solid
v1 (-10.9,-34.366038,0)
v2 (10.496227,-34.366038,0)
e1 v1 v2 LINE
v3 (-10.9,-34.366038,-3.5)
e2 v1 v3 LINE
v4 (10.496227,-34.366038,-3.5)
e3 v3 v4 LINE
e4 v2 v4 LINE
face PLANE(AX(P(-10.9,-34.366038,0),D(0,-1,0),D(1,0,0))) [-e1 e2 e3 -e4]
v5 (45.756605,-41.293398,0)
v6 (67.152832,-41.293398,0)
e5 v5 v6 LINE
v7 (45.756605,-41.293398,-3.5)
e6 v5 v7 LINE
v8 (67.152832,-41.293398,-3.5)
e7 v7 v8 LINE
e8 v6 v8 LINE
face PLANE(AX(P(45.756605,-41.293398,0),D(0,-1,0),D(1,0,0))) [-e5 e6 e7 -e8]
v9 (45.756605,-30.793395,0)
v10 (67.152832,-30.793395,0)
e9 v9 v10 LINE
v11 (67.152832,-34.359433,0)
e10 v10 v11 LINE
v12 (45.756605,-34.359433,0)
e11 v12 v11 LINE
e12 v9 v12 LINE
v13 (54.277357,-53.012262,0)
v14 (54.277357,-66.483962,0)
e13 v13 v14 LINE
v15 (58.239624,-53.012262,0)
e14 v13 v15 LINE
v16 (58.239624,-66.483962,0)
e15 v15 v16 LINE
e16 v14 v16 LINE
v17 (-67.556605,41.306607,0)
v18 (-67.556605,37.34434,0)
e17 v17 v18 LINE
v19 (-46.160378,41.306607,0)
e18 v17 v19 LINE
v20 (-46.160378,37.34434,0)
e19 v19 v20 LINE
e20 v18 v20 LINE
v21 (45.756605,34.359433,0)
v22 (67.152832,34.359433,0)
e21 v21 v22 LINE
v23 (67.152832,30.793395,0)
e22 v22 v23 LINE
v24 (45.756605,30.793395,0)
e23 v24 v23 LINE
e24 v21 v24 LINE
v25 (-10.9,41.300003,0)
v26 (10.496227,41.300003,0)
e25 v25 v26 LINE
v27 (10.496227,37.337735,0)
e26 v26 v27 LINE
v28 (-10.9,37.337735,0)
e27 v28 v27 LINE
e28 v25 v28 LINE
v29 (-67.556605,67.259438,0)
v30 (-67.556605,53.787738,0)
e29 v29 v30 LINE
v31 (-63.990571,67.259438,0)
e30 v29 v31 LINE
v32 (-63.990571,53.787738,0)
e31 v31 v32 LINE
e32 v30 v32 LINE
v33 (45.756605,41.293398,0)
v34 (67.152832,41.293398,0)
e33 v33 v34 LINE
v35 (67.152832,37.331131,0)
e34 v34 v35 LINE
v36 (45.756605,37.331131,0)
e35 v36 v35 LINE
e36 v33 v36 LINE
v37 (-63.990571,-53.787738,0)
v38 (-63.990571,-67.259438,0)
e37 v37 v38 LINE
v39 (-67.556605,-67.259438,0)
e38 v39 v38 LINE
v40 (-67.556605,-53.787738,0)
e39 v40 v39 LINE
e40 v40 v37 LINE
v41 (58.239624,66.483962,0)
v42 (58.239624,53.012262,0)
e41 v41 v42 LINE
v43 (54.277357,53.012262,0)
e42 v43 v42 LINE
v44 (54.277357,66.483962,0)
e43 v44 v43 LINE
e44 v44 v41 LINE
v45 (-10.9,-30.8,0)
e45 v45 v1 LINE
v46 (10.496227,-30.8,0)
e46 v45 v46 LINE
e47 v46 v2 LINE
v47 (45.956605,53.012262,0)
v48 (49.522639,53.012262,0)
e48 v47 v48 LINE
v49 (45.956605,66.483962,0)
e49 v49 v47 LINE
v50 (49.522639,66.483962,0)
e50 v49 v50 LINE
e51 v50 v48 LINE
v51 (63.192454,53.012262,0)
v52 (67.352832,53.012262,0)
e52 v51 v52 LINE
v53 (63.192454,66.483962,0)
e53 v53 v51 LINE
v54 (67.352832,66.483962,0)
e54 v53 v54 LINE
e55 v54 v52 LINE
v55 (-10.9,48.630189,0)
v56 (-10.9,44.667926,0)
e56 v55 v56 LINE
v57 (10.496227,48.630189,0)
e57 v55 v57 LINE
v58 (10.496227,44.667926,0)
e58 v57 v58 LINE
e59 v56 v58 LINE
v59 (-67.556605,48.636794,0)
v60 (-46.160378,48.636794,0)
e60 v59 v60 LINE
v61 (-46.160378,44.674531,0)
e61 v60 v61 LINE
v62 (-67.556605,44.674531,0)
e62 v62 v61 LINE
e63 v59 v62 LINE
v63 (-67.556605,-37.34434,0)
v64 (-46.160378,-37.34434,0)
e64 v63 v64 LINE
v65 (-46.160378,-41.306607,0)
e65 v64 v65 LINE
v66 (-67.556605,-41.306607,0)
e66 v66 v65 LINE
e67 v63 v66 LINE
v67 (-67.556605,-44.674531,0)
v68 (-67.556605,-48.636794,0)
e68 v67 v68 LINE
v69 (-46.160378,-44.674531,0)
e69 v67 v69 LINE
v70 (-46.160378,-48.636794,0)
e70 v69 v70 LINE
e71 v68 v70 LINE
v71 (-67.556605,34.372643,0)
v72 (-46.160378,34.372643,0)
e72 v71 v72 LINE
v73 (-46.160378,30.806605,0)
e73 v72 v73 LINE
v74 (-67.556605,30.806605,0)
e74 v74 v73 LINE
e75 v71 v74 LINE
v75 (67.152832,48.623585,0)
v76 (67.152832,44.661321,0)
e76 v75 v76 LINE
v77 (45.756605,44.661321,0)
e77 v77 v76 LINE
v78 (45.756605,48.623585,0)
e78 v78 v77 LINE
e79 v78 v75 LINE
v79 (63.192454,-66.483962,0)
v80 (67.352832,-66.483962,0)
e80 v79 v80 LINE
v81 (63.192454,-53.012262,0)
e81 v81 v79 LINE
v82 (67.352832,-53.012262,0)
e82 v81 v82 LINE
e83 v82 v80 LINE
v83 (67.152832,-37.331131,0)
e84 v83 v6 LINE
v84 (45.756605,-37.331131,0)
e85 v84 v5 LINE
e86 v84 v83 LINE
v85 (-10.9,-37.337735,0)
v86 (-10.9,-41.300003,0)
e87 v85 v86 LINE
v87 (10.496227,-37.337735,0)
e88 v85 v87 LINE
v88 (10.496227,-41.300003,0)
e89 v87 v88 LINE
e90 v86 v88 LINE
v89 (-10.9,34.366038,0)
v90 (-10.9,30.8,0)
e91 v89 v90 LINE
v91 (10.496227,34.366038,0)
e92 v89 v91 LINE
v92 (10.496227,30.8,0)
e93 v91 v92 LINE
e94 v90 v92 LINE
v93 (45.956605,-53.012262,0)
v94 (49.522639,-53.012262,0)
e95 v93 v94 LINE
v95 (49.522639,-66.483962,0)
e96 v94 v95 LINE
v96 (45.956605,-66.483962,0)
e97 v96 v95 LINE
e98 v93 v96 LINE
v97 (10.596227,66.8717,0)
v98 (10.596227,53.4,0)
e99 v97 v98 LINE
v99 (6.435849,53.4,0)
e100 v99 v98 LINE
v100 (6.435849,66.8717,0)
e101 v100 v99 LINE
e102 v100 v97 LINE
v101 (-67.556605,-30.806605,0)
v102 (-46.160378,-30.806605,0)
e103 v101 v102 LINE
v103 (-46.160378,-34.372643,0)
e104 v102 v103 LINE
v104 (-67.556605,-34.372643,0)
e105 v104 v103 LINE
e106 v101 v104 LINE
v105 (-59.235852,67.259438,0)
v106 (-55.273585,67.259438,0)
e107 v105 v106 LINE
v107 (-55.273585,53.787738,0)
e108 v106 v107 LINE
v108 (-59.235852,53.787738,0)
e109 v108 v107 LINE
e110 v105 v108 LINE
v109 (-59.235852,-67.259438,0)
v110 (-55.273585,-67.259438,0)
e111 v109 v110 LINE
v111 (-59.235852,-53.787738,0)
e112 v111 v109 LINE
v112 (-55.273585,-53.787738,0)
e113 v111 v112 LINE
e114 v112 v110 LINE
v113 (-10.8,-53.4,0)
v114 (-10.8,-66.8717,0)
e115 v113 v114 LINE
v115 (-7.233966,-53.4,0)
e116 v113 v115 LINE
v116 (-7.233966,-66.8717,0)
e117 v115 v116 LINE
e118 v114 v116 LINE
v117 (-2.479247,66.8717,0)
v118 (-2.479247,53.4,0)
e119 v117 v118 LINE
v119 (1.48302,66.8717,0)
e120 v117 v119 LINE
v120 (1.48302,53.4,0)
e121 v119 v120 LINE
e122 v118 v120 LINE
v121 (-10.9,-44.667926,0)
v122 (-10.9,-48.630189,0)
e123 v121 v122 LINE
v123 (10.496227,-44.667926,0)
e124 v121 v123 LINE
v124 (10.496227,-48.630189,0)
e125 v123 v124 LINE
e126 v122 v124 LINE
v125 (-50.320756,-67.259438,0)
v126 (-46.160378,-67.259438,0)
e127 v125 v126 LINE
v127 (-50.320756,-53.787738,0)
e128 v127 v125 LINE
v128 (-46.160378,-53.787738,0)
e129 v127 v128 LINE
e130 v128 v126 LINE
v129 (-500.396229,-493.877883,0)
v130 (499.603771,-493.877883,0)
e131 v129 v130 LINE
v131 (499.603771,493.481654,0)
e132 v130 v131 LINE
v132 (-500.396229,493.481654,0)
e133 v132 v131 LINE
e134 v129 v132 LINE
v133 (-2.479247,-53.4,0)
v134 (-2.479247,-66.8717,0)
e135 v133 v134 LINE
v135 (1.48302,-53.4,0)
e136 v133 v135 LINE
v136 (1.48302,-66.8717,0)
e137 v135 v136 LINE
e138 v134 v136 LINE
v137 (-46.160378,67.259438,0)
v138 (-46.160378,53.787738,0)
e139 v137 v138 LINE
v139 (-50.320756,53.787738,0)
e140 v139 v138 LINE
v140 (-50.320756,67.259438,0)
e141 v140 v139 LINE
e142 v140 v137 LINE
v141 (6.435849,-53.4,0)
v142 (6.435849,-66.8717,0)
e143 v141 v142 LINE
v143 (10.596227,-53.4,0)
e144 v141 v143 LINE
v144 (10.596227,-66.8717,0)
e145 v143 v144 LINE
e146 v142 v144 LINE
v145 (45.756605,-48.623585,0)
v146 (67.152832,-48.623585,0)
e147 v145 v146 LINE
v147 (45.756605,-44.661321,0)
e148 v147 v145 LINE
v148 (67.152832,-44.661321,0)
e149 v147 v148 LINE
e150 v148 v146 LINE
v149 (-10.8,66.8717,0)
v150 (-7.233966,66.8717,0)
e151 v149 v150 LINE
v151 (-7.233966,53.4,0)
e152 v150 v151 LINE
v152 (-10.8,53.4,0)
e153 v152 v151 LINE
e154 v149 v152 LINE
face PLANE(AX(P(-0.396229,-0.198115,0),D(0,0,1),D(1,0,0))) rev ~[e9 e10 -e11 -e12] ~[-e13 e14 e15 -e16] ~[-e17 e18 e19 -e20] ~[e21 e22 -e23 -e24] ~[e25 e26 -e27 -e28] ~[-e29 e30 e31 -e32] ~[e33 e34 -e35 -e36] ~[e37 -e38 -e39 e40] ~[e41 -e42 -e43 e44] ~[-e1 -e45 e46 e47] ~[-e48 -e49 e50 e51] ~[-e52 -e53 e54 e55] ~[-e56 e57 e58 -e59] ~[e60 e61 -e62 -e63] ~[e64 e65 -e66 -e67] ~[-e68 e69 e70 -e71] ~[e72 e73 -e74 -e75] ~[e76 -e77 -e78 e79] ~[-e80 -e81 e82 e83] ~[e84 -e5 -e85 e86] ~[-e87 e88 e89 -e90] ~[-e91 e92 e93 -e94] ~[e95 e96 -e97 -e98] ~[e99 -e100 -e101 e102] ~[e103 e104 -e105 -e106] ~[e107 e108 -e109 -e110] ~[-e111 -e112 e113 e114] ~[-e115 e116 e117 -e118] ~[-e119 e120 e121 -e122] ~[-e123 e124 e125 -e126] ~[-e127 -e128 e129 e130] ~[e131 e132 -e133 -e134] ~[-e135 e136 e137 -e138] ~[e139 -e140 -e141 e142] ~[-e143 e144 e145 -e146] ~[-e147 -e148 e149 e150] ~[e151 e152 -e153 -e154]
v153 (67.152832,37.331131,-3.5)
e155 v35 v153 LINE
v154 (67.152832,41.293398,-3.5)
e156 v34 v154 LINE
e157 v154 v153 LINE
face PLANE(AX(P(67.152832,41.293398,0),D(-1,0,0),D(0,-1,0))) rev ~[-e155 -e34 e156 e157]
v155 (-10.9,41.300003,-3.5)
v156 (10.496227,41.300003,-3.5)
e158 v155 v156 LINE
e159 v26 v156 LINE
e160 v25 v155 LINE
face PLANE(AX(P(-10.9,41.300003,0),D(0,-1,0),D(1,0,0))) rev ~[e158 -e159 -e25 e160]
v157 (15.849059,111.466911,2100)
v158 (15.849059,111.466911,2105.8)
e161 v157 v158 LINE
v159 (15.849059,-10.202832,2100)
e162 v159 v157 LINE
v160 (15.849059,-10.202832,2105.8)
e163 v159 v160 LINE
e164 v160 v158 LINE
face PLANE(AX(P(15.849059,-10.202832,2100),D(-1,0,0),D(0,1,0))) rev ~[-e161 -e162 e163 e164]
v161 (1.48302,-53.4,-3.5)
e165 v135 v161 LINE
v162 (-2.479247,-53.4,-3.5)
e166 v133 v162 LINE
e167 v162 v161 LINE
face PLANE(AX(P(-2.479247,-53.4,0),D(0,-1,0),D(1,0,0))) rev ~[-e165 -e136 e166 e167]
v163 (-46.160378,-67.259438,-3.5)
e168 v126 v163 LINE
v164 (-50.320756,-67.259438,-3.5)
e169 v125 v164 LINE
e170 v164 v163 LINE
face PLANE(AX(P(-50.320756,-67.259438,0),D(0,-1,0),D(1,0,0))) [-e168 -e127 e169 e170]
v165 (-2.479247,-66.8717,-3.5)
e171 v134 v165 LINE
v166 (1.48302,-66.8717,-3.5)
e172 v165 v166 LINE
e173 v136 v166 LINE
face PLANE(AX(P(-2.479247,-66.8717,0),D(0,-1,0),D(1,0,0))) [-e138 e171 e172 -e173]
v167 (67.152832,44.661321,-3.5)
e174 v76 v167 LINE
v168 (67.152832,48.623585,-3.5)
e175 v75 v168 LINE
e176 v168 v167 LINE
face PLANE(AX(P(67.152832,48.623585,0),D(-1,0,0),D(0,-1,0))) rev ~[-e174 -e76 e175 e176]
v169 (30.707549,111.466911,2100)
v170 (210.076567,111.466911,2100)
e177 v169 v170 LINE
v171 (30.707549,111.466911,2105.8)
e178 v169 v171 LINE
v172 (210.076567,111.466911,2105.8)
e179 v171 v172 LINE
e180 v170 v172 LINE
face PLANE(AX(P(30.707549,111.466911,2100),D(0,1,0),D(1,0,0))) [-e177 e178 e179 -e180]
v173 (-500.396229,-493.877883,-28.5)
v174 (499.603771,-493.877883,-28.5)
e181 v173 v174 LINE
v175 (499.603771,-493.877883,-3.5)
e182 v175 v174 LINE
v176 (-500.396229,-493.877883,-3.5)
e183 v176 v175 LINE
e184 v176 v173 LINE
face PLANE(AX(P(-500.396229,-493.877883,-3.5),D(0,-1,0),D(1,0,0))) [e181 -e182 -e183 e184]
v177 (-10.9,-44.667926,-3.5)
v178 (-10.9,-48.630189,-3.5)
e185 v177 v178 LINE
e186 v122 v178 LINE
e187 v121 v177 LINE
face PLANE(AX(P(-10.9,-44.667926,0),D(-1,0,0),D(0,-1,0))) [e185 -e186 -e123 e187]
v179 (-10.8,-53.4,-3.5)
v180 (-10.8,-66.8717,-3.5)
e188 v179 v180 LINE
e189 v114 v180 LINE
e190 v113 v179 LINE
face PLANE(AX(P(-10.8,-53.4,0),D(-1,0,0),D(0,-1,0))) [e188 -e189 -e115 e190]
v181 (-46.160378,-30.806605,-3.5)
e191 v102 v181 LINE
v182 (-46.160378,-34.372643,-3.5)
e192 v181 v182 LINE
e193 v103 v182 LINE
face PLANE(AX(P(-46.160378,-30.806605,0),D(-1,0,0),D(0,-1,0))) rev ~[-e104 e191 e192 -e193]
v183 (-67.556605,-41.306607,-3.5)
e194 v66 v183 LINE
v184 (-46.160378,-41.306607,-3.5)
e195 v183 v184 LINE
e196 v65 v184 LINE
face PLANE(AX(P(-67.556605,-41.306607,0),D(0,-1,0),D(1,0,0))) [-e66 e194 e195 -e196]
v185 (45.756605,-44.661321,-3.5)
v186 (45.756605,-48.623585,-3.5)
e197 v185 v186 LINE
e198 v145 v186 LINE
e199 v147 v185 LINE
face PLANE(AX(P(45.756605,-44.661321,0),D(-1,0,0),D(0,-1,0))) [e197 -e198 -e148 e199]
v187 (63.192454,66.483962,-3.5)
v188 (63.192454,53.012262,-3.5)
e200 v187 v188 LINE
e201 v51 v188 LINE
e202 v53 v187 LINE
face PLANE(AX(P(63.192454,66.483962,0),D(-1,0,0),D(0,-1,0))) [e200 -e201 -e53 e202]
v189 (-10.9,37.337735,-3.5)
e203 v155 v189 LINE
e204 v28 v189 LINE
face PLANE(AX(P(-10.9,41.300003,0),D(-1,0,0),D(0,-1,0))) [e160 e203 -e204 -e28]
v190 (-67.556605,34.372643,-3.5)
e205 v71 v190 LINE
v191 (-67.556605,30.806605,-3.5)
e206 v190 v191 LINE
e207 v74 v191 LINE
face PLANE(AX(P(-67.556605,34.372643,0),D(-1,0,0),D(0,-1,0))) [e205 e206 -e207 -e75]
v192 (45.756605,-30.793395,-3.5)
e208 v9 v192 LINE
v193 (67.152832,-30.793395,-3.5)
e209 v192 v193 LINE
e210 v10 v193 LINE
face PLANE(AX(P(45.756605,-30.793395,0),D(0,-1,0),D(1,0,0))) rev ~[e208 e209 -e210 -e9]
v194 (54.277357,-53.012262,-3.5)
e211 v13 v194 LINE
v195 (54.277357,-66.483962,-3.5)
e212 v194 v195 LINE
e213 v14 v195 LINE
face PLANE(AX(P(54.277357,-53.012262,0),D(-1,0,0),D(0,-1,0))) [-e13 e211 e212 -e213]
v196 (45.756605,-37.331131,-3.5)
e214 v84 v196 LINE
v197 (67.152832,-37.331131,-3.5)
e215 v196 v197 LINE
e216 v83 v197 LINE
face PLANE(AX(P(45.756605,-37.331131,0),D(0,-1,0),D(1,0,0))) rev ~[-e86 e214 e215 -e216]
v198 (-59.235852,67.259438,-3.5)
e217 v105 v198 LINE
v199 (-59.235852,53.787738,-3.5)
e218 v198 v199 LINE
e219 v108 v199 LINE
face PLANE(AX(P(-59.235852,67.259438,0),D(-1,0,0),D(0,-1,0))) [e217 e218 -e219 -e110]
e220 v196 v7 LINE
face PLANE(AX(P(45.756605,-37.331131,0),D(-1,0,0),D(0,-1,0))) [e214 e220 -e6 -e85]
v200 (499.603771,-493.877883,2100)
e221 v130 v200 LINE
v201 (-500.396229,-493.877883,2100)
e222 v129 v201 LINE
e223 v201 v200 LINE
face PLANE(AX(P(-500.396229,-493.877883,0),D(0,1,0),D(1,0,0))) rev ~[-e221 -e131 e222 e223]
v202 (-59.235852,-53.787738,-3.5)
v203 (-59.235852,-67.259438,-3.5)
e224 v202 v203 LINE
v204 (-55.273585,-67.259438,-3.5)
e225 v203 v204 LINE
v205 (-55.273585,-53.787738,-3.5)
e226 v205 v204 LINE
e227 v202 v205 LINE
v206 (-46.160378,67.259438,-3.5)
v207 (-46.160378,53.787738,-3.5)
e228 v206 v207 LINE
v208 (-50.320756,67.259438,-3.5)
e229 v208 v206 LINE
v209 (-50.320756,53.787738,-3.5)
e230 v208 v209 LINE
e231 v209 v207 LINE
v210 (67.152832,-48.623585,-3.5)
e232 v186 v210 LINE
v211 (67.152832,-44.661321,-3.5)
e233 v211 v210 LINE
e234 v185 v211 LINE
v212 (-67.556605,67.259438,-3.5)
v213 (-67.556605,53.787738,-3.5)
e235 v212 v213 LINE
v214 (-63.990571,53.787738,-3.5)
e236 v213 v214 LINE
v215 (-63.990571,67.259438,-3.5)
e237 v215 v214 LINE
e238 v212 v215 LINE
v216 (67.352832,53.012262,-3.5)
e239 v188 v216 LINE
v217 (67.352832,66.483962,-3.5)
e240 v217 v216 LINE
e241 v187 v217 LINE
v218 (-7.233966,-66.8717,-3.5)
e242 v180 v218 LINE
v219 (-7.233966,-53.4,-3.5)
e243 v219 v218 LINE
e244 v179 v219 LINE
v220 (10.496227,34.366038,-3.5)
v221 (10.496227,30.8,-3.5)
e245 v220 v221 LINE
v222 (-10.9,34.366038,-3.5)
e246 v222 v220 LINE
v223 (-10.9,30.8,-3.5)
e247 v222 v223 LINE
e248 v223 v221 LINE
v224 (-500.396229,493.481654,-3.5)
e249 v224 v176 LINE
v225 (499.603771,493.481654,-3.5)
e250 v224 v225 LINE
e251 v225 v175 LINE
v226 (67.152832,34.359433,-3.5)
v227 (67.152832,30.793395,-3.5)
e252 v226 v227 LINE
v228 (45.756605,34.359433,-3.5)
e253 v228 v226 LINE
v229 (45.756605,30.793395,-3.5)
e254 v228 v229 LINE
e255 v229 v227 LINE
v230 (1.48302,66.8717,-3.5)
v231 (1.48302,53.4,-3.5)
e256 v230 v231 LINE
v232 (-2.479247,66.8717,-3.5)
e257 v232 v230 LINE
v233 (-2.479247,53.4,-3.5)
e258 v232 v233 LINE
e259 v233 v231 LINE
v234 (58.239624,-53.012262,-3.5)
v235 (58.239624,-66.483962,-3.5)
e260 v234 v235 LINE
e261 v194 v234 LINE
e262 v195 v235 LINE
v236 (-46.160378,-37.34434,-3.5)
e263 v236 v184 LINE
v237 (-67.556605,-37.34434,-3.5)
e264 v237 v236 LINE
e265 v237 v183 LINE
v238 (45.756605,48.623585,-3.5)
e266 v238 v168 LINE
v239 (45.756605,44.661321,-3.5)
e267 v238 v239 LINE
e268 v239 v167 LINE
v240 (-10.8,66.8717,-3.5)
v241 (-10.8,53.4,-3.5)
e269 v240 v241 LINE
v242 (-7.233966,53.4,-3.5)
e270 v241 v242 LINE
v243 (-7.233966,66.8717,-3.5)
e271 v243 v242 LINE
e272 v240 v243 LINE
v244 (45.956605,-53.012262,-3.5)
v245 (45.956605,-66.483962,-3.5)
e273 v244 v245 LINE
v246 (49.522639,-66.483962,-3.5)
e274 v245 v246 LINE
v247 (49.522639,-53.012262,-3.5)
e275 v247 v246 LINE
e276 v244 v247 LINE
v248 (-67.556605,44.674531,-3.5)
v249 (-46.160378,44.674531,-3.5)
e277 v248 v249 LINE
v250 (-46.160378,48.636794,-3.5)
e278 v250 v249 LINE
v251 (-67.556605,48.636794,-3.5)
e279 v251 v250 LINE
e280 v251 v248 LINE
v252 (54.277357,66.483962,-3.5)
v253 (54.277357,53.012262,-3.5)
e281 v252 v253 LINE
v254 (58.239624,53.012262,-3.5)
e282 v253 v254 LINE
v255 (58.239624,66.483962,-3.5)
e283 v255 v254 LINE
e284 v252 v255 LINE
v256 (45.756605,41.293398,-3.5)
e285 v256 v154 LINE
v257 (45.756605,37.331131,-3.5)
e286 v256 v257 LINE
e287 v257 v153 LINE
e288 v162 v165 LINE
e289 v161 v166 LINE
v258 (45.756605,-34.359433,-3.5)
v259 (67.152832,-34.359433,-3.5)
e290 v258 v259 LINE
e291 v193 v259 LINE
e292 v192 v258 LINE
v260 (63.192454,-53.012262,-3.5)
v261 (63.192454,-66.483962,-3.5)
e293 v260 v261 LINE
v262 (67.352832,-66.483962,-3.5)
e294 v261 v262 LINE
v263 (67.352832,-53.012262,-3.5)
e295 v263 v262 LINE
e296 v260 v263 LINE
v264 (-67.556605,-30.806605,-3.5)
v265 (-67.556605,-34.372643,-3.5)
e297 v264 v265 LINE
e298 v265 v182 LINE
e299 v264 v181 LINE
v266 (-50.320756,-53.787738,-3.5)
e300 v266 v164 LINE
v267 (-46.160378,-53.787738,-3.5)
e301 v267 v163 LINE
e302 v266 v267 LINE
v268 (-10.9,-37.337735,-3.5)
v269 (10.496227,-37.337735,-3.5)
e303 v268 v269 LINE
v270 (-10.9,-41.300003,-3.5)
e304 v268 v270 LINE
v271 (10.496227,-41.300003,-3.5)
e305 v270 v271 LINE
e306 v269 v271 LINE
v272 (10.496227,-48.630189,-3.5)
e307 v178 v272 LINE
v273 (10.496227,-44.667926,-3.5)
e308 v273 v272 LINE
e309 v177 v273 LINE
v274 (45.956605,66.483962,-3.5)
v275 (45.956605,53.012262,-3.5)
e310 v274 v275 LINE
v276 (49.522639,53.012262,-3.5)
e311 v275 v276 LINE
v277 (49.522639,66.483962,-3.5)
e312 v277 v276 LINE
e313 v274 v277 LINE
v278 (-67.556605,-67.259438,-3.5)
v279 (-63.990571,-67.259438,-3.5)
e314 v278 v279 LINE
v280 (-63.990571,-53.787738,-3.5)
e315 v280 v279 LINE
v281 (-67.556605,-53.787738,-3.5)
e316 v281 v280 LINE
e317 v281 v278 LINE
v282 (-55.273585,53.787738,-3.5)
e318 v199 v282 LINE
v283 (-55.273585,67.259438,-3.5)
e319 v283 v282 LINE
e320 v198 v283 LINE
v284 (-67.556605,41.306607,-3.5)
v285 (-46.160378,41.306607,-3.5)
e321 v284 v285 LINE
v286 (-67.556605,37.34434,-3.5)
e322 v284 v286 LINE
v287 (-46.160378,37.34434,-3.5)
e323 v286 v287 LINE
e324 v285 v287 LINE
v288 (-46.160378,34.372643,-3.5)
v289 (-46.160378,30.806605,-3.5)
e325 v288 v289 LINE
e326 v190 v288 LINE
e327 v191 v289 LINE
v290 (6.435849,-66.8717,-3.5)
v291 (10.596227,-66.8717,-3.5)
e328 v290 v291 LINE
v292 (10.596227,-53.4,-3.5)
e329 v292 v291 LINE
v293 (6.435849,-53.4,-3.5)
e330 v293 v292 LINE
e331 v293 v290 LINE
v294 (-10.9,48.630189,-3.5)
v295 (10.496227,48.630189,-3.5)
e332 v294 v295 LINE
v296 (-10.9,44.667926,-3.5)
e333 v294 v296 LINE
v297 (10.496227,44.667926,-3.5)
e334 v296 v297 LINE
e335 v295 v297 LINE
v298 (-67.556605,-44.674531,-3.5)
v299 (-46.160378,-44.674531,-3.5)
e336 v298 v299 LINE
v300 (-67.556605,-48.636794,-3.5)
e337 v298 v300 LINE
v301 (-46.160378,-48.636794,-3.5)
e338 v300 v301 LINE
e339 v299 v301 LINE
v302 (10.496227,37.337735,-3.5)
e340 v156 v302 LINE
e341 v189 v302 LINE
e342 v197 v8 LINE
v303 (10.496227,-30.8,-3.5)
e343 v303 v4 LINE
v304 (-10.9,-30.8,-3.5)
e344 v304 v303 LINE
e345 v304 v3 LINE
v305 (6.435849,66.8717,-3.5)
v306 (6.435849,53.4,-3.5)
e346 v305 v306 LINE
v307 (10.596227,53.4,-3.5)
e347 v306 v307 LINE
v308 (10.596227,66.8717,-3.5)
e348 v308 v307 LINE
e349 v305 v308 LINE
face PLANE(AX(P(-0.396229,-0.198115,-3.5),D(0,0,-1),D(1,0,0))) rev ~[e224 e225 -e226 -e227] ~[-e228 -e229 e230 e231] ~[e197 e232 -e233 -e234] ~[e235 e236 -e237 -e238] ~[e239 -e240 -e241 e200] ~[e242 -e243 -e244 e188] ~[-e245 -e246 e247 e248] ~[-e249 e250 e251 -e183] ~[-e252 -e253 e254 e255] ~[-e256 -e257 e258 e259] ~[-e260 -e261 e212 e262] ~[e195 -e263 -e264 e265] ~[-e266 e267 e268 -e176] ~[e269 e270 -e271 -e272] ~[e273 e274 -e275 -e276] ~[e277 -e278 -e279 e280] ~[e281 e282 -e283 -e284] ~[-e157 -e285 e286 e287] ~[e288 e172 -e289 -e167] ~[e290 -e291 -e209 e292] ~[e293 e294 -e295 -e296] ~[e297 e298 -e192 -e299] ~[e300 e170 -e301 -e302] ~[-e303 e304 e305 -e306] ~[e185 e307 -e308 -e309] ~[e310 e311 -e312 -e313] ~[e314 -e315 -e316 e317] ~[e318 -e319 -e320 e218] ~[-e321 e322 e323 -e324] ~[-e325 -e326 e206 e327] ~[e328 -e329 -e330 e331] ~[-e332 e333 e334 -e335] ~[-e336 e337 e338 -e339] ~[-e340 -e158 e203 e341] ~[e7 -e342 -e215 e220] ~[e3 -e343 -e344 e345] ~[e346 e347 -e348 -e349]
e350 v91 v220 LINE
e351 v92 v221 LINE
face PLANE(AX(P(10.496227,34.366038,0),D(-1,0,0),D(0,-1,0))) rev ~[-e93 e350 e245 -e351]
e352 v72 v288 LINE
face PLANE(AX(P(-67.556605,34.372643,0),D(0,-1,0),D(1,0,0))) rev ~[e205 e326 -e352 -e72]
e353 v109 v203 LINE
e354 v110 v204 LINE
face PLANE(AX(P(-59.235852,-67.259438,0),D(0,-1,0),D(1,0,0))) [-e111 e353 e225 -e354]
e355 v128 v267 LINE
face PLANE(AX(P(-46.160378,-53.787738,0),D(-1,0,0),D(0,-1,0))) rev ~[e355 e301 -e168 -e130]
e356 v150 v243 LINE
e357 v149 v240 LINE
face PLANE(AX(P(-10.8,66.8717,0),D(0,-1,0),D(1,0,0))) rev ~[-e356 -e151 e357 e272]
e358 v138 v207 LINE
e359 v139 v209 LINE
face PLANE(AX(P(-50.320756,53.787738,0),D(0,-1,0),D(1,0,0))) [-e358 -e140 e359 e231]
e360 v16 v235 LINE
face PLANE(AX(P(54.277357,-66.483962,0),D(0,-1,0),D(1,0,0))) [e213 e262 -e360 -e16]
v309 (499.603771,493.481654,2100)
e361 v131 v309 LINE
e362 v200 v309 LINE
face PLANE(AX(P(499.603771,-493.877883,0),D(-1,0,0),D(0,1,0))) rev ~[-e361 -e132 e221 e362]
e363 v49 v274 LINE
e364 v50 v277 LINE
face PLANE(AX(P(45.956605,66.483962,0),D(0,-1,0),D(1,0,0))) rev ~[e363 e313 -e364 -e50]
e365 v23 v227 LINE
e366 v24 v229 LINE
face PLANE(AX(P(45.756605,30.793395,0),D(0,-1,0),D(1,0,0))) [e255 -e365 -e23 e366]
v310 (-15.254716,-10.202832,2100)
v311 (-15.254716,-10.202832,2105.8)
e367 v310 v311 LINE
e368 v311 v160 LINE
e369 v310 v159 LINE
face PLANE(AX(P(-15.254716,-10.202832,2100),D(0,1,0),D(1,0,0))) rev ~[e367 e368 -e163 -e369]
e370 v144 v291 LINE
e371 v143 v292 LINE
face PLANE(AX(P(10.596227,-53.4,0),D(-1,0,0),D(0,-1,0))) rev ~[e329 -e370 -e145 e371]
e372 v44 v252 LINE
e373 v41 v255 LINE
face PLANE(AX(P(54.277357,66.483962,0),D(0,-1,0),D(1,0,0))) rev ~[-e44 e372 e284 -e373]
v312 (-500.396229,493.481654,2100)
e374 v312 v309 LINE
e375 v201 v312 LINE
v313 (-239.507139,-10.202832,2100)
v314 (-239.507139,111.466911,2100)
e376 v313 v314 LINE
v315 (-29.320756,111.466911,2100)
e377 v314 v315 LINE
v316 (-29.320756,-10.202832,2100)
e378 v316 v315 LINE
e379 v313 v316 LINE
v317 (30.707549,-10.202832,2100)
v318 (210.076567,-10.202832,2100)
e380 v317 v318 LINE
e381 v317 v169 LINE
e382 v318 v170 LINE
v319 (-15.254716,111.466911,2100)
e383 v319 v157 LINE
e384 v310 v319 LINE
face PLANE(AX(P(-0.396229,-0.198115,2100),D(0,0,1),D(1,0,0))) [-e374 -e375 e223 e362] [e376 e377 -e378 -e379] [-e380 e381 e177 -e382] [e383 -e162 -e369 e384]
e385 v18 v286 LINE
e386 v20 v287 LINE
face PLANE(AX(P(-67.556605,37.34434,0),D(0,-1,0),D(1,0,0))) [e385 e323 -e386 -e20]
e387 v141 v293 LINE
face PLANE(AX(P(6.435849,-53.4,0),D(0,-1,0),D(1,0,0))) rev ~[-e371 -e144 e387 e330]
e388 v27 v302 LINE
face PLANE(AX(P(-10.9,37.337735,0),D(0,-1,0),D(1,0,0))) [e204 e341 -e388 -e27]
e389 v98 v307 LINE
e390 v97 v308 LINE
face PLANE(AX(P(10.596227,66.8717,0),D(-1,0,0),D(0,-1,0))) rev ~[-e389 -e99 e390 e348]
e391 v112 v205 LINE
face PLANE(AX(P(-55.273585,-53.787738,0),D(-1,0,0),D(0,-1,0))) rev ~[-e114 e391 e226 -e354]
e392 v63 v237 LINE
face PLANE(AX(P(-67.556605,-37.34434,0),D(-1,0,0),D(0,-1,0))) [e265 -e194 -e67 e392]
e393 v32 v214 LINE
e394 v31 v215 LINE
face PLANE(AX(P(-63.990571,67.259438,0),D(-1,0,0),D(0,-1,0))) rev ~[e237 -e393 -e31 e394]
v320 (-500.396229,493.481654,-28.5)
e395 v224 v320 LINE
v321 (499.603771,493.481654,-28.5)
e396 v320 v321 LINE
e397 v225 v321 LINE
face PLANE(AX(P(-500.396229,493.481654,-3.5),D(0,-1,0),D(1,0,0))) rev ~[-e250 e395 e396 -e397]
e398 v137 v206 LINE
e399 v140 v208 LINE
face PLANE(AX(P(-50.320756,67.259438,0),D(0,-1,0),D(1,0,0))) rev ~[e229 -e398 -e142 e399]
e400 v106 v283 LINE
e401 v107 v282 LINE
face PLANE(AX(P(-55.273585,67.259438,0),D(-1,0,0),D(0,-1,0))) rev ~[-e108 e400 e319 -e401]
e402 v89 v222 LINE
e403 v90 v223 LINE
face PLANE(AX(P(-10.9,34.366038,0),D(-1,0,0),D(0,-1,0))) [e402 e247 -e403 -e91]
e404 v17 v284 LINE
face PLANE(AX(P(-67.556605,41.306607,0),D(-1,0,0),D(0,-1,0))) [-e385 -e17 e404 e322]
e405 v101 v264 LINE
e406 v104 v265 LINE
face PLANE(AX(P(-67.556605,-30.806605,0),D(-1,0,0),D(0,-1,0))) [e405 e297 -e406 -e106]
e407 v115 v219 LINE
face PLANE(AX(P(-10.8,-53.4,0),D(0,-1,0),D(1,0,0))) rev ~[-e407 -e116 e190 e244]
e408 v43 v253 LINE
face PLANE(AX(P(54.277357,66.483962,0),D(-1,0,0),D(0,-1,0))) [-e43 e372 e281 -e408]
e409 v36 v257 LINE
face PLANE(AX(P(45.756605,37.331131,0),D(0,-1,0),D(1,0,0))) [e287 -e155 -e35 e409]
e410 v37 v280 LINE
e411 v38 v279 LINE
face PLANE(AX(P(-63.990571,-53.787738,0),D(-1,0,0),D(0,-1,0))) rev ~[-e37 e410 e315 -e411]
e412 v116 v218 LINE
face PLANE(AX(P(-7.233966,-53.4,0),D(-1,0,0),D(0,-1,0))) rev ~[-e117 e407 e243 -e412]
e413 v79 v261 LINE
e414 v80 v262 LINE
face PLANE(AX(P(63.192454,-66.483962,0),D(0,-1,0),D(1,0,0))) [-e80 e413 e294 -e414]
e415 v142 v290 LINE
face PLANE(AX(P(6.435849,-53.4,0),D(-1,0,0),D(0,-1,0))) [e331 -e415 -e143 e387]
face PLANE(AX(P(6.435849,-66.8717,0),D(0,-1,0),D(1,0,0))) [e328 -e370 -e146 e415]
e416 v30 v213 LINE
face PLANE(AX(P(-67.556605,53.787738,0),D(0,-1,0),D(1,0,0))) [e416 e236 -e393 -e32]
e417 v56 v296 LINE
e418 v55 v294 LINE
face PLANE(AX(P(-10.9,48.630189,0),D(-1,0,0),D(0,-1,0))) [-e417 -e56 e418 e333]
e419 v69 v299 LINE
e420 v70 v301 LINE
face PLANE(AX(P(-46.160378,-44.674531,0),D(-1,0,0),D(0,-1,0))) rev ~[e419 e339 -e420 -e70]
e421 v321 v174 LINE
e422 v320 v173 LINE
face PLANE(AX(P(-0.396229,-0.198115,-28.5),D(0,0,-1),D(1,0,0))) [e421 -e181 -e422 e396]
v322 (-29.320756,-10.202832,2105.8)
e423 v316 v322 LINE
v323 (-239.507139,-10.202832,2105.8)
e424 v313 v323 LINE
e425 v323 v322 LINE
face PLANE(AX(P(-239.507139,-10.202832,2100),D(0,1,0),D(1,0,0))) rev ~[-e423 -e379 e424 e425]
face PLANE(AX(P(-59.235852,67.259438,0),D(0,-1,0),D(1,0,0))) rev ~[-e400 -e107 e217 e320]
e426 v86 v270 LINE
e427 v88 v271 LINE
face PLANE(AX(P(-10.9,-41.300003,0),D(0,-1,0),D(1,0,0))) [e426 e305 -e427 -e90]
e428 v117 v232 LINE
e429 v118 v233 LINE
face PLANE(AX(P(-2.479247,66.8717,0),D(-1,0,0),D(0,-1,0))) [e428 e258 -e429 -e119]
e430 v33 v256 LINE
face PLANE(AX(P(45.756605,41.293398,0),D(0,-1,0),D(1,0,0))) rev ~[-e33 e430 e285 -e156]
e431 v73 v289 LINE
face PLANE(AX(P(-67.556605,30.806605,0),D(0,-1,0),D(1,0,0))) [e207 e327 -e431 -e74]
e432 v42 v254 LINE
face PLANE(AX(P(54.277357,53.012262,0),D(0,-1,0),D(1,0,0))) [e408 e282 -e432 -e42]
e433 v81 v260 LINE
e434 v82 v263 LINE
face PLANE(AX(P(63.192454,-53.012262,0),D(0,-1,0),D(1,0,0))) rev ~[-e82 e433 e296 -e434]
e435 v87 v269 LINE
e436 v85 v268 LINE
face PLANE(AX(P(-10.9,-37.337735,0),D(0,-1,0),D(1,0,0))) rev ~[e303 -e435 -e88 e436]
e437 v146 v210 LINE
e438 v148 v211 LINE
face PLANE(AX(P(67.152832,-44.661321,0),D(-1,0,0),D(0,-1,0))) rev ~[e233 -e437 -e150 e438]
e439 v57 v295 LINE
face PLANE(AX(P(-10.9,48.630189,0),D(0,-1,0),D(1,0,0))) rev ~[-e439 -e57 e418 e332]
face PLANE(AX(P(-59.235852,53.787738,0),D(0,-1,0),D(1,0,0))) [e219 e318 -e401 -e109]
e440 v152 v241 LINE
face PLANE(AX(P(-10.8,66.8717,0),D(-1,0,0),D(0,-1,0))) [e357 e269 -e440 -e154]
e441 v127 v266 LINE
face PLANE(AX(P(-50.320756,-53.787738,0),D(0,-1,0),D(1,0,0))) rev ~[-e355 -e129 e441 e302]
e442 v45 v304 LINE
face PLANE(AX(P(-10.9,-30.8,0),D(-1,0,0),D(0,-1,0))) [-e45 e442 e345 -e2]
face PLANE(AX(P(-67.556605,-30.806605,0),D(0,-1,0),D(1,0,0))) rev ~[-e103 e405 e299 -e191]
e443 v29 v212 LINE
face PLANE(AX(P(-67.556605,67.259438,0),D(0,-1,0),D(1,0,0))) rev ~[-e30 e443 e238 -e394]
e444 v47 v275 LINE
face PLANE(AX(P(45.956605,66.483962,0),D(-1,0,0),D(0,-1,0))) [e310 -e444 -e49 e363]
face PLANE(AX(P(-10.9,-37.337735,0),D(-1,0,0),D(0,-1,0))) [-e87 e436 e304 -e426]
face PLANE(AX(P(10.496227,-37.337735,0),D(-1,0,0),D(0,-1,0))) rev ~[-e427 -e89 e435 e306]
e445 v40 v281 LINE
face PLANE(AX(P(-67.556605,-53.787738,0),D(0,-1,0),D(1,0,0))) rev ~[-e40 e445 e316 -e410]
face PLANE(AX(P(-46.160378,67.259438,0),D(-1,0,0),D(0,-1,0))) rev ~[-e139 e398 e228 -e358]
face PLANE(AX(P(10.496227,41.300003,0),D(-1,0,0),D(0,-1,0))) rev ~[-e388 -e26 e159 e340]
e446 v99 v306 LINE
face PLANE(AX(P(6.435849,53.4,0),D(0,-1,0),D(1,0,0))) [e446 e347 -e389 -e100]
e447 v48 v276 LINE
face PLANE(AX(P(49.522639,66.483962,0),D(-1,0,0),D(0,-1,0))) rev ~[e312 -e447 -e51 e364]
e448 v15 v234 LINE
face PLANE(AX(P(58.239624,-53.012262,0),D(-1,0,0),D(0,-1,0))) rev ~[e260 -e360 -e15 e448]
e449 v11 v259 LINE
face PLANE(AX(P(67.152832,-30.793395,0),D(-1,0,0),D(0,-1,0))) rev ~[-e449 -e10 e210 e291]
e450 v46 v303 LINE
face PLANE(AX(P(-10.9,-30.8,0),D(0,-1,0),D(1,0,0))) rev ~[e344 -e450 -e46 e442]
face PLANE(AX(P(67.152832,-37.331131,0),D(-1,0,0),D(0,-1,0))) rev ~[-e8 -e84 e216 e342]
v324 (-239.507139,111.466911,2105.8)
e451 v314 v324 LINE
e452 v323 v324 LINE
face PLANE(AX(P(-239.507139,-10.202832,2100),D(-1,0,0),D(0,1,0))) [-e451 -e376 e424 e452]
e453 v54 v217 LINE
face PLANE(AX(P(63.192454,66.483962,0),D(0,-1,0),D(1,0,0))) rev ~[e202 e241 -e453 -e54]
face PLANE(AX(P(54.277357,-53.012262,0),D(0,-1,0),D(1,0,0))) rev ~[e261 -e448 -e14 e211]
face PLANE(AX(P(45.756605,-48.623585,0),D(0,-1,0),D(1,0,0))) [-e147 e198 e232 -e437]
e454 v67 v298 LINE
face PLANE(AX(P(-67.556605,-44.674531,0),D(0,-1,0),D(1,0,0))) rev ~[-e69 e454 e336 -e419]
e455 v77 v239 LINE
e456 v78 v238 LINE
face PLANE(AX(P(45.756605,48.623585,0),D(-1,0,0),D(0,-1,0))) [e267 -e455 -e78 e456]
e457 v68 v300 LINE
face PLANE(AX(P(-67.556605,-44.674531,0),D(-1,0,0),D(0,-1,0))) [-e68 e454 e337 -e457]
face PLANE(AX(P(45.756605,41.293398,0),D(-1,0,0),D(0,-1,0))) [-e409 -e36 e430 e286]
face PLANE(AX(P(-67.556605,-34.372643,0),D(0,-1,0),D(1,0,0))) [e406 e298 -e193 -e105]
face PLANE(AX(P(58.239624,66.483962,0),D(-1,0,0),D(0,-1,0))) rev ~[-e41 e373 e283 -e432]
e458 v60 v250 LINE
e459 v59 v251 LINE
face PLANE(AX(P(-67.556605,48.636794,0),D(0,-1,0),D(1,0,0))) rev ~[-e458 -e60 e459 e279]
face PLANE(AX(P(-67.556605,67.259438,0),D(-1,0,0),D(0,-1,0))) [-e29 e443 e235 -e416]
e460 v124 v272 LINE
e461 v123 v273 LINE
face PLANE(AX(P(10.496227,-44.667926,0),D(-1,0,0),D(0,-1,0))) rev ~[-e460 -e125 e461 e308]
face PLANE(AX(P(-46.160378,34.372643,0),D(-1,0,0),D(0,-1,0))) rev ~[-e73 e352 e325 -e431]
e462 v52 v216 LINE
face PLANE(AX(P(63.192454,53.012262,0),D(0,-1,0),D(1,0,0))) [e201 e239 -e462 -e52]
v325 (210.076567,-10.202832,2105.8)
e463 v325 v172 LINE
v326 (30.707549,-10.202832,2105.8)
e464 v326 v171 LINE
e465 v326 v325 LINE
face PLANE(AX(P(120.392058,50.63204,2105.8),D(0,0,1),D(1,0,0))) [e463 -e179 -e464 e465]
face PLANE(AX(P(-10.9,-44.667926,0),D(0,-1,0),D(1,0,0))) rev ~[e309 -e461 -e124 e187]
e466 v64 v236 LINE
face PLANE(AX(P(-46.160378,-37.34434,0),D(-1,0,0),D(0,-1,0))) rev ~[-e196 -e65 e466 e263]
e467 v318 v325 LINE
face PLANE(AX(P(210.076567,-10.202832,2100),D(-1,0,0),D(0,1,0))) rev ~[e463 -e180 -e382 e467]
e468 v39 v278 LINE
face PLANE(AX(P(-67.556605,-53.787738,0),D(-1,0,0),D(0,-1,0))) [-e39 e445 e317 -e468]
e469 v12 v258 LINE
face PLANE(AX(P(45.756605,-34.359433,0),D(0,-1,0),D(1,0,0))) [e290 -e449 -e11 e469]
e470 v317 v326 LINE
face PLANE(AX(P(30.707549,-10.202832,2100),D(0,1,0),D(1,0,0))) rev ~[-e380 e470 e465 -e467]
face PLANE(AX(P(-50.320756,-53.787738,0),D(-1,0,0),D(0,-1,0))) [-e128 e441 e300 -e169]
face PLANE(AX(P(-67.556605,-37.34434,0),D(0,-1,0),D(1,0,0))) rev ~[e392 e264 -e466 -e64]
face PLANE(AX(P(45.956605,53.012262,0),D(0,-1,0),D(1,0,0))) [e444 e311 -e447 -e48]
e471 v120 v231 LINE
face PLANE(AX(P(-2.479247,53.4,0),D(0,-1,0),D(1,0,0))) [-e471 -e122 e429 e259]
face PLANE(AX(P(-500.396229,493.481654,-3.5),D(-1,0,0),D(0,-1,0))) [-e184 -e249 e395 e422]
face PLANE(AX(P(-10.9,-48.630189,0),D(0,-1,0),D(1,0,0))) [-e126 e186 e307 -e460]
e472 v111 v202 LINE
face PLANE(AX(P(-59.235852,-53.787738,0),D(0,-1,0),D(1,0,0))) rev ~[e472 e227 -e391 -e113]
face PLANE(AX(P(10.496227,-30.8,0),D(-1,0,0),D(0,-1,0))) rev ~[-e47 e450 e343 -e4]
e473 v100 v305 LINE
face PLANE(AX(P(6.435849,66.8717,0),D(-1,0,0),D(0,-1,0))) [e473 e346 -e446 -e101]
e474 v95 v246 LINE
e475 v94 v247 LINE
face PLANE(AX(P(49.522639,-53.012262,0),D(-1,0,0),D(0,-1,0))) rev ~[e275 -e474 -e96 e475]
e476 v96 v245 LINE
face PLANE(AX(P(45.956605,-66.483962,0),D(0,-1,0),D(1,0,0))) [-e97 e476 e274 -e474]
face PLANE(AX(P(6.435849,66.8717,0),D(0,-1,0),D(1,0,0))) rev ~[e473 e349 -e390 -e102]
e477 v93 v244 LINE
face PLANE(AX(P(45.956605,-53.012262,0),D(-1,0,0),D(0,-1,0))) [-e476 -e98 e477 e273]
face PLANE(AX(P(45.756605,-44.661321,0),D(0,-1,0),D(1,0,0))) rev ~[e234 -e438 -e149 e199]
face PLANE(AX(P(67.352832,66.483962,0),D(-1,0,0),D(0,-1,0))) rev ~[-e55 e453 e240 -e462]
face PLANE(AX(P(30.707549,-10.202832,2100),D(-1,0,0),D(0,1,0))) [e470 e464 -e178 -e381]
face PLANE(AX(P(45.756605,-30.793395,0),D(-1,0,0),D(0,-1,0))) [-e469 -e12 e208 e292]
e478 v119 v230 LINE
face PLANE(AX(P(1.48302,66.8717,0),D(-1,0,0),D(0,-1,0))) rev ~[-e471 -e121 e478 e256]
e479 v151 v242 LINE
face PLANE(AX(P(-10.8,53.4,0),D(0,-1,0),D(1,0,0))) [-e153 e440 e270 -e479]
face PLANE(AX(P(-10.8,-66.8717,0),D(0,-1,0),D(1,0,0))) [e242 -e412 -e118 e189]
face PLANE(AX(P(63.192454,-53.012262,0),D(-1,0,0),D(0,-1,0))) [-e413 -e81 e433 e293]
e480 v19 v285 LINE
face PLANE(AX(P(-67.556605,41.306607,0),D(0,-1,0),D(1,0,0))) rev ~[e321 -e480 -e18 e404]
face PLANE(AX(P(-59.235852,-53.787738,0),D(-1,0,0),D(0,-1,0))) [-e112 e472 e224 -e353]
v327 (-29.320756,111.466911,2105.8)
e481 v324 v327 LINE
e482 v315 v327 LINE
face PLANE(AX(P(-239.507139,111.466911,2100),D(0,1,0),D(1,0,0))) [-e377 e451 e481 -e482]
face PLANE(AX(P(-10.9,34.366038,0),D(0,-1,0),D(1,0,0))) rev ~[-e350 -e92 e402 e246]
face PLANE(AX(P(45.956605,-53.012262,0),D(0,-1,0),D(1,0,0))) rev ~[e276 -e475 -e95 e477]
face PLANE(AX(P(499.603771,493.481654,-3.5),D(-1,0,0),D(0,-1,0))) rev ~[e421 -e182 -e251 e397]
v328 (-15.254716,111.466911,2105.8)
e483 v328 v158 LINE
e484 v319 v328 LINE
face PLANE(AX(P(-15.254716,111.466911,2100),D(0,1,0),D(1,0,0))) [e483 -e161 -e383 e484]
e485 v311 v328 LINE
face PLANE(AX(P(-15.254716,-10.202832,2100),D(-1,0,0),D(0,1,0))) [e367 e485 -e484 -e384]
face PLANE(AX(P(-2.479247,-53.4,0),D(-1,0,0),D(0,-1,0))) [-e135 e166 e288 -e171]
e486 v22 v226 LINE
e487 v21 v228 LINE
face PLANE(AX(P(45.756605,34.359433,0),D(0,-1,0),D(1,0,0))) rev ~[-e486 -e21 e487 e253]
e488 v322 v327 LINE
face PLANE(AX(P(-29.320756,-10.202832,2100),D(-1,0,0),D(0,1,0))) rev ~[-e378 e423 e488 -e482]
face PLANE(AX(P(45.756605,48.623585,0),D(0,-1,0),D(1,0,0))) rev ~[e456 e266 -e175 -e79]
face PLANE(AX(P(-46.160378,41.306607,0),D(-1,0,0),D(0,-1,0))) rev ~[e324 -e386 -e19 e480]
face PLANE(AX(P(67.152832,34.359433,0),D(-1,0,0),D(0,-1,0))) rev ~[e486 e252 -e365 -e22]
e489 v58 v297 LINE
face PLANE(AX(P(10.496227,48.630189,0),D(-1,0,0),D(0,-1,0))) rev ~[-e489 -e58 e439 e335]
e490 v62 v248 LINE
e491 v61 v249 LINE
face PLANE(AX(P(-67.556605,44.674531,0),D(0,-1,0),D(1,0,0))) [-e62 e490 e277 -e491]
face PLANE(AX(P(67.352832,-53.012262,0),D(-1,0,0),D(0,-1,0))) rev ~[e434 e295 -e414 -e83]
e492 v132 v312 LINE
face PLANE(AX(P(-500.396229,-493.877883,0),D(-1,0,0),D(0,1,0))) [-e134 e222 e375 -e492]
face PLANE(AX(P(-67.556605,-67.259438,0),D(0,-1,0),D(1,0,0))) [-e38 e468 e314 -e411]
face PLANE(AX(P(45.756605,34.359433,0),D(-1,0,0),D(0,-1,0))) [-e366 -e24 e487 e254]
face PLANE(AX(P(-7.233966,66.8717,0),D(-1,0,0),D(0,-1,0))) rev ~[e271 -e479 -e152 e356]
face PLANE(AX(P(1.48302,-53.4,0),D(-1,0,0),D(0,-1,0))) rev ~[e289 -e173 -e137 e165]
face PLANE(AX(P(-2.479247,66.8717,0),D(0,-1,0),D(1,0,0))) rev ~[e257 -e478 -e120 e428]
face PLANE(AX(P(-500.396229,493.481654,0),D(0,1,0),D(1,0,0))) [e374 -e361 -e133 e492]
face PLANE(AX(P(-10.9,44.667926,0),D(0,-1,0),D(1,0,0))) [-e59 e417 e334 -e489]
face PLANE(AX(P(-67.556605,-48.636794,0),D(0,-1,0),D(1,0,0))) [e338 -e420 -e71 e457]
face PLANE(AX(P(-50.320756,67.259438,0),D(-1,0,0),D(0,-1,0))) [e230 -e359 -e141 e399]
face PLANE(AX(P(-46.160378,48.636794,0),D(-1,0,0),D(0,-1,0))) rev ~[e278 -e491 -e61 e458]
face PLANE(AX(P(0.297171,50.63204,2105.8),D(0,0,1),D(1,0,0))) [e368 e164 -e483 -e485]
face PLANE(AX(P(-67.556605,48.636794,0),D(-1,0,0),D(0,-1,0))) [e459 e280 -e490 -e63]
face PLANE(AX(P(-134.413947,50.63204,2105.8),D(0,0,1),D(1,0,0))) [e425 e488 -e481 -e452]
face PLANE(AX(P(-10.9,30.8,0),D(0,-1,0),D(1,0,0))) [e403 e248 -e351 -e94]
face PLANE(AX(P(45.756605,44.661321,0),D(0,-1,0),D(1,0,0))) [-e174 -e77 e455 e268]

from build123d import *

# Parameters (mm, degrees)
F0_W     = 1000
F0_H     = 987.3595376536
F0_W_2   = 884.8314134924
F0_H_2   = 869.3819947267
F1_DEPTH = 2100
F2_W     = 31.1037749052
F2_H     = 121.6697422788
F2_W_2   = 179.3690174818
F2_W_3   = 210.1863827556
F3_DEPTH = 5.8
F4_W     = 3.5660341382
F4_H     = 13.4717002511
F4_W_2   = 3.9622671902
F4_W_3   = 4.1603781283
F4_W_4   = 21.396227181
F4_H_2   = 3.9622634649
F4_H_3   = 3.9622671902
F4_H_4   = 3.5660378635
F5_DEPTH = 3.5
F6_W     = 1000
F6_H     = 987.3595376536
F6_W_2   = 3.5660341382
F6_H_2   = 13.4717002511
F7_DEPTH = 25


with BuildPart() as f1:
    # F0 (on Top) → F1 (new body)
    with BuildSketch(Plane.XY):
        with Locations((-0.3962293267, -0.1981146634)):
            Rectangle(F0_W, F0_H)
        with Locations((1.0083017027, -1.602592873)):
            Rectangle(F0_W_2, F0_H_2, mode=Mode.SUBTRACT)
        with Locations((1.0083017027, -1.602592873)):
            Rectangle(F0_W_2, F0_H_2)
    extrude(amount=F1_DEPTH)

    # F2 (on face) → F3 (join)
    with BuildSketch(Plane.XY.offset(2100)):
        with Locations((0.2971710637, 50.6320395507)):
            Rectangle(F2_W, F2_H)
        with Locations((120.3920580447, 50.6320395507)):
            Rectangle(F2_W_2, F2_H)
        with Locations((-134.4139473513, 50.6320395507)):
            Rectangle(F2_W_3, F2_H)
    extrude(amount=F3_DEPTH)

    # F4 (on face) → F5 (join)
    with BuildSketch(Plane(origin=(0, 0, 0), x_dir=(1, 0, 0), z_dir=(0, 0, -1))):
        with Locations((-65.7735876739, 60.5235882103)):
            Rectangle(F4_W, F4_H)
        with Locations((-57.2547186166, 60.5235882103)):
            Rectangle(F4_W_2, F4_H)
        with Locations((-48.2405666262, 60.5235882103)):
            Rectangle(F4_W_3, F4_H)
        with Locations((-9.0169829309, 60.1358501256)):
            Rectangle(F4_W, F4_H)
        with Locations((-0.4981138736, 60.1358501256)):
            Rectangle(F4_W_2, F4_H)
        with Locations((8.5160381168, 60.1358501256)):
            Rectangle(F4_W_3, F4_H)
        with Locations((47.7396218121, 59.7481120408)):
            Rectangle(F4_W, F4_H)
        with Locations((56.2584908694, 59.7481120408)):
            Rectangle(F4_W_2, F4_H)
        with Locations((65.2726428598, 59.7481120408)):
            Rectangle(F4_W_3, F4_H)
        with Locations((-57.2547186166, -60.5235882103)):
            Rectangle(F4_W_2, F4_H)
        with Locations((-65.7735876739, -60.5235882103)):
            Rectangle(F4_W, F4_H)
        with Locations((-48.2405666262, -60.5235882103)):
            Rectangle(F4_W_3, F4_H)
        with Locations((56.2584908694, -59.7481120408)):
            Rectangle(F4_W_2, F4_H)
        with Locations((-9.0169829309, -60.1358501256)):
            Rectangle(F4_W, F4_H)
        with Locations((47.7396218121, -59.7481120408)):
            Rectangle(F4_W, F4_H)
        with Locations((8.5160381168, -60.1358501256)):
            Rectangle(F4_W_3, F4_H)
        with Locations((-0.4981138736, -60.1358501256)):
            Rectangle(F4_W_2, F4_H)
        with Locations((65.2726428598, -59.7481120408)):
            Rectangle(F4_W_3, F4_H)
        with Locations((-56.8584911525, 46.6556623578)):
            Rectangle(F4_W_4, F4_H_2)
        with Locations((-56.8584911525, 39.3254738301)):
            Rectangle(F4_W_4, F4_H_3)
        with Locations((-56.8584911525, 32.5896237046)):
            Rectangle(F4_W_4, F4_H_4)
        with Locations((-0.2018864095, 39.3188690573)):
            Rectangle(F4_W_4, F4_H_3)
        with Locations((-0.2018864095, 46.649057585)):
            Rectangle(F4_W_4, F4_H_2)
        with Locations((-0.2018864095, 32.5830189317)):
            Rectangle(F4_W_4, F4_H_4)
        with Locations((56.4547183335, 39.3122642845)):
            Rectangle(F4_W_4, F4_H_3)
        with Locations((56.4547183335, 46.6424528122)):
            Rectangle(F4_W_4, F4_H_2)
        with Locations((56.4547183335, 32.5764141589)):
            Rectangle(F4_W_4, F4_H_4)
        with Locations((56.4547183335, -46.6424528122)):
            Rectangle(F4_W_4, F4_H_2)
        with Locations((-0.2018864095, -46.649057585)):
            Rectangle(F4_W_4, F4_H_2)
        with Locations((-0.2018864095, -32.5830189317)):
            Rectangle(F4_W_4, F4_H_4)
        with Locations((-56.8584911525, -46.6556623578)):
            Rectangle(F4_W_4, F4_H_2)
        with Locations((56.4547183335, -39.3122642845)):
            Rectangle(F4_W_4, F4_H_3)
        with Locations((-0.2018864095, -39.3188690573)):
            Rectangle(F4_W_4, F4_H_3)
        with Locations((-56.8584911525, -39.3254738301)):
            Rectangle(F4_W_4, F4_H_3)
        with Locations((-56.8584911525, -32.5896237046)):
            Rectangle(F4_W_4, F4_H_4)
        with Locations((56.4547183335, -32.5764141589)):
            Rectangle(F4_W_4, F4_H_4)
    extrude(amount=F5_DEPTH)

    # F6 (on face) → F7 (join)
    with BuildSketch(Plane(origin=(0, 0, -3.5), x_dir=(1, 0, 0), z_dir=(0, 0, -1))):
        with Locations((-0.3962293267, 0.1981146634)):
            Rectangle(F6_W, F6_H)
        with Locations((-65.7735876739, 60.5235882103)):
            Rectangle(F6_W_2, F6_H_2, mode=Mode.SUBTRACT)
        with Locations((-65.7735876739, 60.5235882103)):
            Rectangle(F6_W_2, F6_H_2)
    extrude(amount=F7_DEPTH)


solid = f1.part
